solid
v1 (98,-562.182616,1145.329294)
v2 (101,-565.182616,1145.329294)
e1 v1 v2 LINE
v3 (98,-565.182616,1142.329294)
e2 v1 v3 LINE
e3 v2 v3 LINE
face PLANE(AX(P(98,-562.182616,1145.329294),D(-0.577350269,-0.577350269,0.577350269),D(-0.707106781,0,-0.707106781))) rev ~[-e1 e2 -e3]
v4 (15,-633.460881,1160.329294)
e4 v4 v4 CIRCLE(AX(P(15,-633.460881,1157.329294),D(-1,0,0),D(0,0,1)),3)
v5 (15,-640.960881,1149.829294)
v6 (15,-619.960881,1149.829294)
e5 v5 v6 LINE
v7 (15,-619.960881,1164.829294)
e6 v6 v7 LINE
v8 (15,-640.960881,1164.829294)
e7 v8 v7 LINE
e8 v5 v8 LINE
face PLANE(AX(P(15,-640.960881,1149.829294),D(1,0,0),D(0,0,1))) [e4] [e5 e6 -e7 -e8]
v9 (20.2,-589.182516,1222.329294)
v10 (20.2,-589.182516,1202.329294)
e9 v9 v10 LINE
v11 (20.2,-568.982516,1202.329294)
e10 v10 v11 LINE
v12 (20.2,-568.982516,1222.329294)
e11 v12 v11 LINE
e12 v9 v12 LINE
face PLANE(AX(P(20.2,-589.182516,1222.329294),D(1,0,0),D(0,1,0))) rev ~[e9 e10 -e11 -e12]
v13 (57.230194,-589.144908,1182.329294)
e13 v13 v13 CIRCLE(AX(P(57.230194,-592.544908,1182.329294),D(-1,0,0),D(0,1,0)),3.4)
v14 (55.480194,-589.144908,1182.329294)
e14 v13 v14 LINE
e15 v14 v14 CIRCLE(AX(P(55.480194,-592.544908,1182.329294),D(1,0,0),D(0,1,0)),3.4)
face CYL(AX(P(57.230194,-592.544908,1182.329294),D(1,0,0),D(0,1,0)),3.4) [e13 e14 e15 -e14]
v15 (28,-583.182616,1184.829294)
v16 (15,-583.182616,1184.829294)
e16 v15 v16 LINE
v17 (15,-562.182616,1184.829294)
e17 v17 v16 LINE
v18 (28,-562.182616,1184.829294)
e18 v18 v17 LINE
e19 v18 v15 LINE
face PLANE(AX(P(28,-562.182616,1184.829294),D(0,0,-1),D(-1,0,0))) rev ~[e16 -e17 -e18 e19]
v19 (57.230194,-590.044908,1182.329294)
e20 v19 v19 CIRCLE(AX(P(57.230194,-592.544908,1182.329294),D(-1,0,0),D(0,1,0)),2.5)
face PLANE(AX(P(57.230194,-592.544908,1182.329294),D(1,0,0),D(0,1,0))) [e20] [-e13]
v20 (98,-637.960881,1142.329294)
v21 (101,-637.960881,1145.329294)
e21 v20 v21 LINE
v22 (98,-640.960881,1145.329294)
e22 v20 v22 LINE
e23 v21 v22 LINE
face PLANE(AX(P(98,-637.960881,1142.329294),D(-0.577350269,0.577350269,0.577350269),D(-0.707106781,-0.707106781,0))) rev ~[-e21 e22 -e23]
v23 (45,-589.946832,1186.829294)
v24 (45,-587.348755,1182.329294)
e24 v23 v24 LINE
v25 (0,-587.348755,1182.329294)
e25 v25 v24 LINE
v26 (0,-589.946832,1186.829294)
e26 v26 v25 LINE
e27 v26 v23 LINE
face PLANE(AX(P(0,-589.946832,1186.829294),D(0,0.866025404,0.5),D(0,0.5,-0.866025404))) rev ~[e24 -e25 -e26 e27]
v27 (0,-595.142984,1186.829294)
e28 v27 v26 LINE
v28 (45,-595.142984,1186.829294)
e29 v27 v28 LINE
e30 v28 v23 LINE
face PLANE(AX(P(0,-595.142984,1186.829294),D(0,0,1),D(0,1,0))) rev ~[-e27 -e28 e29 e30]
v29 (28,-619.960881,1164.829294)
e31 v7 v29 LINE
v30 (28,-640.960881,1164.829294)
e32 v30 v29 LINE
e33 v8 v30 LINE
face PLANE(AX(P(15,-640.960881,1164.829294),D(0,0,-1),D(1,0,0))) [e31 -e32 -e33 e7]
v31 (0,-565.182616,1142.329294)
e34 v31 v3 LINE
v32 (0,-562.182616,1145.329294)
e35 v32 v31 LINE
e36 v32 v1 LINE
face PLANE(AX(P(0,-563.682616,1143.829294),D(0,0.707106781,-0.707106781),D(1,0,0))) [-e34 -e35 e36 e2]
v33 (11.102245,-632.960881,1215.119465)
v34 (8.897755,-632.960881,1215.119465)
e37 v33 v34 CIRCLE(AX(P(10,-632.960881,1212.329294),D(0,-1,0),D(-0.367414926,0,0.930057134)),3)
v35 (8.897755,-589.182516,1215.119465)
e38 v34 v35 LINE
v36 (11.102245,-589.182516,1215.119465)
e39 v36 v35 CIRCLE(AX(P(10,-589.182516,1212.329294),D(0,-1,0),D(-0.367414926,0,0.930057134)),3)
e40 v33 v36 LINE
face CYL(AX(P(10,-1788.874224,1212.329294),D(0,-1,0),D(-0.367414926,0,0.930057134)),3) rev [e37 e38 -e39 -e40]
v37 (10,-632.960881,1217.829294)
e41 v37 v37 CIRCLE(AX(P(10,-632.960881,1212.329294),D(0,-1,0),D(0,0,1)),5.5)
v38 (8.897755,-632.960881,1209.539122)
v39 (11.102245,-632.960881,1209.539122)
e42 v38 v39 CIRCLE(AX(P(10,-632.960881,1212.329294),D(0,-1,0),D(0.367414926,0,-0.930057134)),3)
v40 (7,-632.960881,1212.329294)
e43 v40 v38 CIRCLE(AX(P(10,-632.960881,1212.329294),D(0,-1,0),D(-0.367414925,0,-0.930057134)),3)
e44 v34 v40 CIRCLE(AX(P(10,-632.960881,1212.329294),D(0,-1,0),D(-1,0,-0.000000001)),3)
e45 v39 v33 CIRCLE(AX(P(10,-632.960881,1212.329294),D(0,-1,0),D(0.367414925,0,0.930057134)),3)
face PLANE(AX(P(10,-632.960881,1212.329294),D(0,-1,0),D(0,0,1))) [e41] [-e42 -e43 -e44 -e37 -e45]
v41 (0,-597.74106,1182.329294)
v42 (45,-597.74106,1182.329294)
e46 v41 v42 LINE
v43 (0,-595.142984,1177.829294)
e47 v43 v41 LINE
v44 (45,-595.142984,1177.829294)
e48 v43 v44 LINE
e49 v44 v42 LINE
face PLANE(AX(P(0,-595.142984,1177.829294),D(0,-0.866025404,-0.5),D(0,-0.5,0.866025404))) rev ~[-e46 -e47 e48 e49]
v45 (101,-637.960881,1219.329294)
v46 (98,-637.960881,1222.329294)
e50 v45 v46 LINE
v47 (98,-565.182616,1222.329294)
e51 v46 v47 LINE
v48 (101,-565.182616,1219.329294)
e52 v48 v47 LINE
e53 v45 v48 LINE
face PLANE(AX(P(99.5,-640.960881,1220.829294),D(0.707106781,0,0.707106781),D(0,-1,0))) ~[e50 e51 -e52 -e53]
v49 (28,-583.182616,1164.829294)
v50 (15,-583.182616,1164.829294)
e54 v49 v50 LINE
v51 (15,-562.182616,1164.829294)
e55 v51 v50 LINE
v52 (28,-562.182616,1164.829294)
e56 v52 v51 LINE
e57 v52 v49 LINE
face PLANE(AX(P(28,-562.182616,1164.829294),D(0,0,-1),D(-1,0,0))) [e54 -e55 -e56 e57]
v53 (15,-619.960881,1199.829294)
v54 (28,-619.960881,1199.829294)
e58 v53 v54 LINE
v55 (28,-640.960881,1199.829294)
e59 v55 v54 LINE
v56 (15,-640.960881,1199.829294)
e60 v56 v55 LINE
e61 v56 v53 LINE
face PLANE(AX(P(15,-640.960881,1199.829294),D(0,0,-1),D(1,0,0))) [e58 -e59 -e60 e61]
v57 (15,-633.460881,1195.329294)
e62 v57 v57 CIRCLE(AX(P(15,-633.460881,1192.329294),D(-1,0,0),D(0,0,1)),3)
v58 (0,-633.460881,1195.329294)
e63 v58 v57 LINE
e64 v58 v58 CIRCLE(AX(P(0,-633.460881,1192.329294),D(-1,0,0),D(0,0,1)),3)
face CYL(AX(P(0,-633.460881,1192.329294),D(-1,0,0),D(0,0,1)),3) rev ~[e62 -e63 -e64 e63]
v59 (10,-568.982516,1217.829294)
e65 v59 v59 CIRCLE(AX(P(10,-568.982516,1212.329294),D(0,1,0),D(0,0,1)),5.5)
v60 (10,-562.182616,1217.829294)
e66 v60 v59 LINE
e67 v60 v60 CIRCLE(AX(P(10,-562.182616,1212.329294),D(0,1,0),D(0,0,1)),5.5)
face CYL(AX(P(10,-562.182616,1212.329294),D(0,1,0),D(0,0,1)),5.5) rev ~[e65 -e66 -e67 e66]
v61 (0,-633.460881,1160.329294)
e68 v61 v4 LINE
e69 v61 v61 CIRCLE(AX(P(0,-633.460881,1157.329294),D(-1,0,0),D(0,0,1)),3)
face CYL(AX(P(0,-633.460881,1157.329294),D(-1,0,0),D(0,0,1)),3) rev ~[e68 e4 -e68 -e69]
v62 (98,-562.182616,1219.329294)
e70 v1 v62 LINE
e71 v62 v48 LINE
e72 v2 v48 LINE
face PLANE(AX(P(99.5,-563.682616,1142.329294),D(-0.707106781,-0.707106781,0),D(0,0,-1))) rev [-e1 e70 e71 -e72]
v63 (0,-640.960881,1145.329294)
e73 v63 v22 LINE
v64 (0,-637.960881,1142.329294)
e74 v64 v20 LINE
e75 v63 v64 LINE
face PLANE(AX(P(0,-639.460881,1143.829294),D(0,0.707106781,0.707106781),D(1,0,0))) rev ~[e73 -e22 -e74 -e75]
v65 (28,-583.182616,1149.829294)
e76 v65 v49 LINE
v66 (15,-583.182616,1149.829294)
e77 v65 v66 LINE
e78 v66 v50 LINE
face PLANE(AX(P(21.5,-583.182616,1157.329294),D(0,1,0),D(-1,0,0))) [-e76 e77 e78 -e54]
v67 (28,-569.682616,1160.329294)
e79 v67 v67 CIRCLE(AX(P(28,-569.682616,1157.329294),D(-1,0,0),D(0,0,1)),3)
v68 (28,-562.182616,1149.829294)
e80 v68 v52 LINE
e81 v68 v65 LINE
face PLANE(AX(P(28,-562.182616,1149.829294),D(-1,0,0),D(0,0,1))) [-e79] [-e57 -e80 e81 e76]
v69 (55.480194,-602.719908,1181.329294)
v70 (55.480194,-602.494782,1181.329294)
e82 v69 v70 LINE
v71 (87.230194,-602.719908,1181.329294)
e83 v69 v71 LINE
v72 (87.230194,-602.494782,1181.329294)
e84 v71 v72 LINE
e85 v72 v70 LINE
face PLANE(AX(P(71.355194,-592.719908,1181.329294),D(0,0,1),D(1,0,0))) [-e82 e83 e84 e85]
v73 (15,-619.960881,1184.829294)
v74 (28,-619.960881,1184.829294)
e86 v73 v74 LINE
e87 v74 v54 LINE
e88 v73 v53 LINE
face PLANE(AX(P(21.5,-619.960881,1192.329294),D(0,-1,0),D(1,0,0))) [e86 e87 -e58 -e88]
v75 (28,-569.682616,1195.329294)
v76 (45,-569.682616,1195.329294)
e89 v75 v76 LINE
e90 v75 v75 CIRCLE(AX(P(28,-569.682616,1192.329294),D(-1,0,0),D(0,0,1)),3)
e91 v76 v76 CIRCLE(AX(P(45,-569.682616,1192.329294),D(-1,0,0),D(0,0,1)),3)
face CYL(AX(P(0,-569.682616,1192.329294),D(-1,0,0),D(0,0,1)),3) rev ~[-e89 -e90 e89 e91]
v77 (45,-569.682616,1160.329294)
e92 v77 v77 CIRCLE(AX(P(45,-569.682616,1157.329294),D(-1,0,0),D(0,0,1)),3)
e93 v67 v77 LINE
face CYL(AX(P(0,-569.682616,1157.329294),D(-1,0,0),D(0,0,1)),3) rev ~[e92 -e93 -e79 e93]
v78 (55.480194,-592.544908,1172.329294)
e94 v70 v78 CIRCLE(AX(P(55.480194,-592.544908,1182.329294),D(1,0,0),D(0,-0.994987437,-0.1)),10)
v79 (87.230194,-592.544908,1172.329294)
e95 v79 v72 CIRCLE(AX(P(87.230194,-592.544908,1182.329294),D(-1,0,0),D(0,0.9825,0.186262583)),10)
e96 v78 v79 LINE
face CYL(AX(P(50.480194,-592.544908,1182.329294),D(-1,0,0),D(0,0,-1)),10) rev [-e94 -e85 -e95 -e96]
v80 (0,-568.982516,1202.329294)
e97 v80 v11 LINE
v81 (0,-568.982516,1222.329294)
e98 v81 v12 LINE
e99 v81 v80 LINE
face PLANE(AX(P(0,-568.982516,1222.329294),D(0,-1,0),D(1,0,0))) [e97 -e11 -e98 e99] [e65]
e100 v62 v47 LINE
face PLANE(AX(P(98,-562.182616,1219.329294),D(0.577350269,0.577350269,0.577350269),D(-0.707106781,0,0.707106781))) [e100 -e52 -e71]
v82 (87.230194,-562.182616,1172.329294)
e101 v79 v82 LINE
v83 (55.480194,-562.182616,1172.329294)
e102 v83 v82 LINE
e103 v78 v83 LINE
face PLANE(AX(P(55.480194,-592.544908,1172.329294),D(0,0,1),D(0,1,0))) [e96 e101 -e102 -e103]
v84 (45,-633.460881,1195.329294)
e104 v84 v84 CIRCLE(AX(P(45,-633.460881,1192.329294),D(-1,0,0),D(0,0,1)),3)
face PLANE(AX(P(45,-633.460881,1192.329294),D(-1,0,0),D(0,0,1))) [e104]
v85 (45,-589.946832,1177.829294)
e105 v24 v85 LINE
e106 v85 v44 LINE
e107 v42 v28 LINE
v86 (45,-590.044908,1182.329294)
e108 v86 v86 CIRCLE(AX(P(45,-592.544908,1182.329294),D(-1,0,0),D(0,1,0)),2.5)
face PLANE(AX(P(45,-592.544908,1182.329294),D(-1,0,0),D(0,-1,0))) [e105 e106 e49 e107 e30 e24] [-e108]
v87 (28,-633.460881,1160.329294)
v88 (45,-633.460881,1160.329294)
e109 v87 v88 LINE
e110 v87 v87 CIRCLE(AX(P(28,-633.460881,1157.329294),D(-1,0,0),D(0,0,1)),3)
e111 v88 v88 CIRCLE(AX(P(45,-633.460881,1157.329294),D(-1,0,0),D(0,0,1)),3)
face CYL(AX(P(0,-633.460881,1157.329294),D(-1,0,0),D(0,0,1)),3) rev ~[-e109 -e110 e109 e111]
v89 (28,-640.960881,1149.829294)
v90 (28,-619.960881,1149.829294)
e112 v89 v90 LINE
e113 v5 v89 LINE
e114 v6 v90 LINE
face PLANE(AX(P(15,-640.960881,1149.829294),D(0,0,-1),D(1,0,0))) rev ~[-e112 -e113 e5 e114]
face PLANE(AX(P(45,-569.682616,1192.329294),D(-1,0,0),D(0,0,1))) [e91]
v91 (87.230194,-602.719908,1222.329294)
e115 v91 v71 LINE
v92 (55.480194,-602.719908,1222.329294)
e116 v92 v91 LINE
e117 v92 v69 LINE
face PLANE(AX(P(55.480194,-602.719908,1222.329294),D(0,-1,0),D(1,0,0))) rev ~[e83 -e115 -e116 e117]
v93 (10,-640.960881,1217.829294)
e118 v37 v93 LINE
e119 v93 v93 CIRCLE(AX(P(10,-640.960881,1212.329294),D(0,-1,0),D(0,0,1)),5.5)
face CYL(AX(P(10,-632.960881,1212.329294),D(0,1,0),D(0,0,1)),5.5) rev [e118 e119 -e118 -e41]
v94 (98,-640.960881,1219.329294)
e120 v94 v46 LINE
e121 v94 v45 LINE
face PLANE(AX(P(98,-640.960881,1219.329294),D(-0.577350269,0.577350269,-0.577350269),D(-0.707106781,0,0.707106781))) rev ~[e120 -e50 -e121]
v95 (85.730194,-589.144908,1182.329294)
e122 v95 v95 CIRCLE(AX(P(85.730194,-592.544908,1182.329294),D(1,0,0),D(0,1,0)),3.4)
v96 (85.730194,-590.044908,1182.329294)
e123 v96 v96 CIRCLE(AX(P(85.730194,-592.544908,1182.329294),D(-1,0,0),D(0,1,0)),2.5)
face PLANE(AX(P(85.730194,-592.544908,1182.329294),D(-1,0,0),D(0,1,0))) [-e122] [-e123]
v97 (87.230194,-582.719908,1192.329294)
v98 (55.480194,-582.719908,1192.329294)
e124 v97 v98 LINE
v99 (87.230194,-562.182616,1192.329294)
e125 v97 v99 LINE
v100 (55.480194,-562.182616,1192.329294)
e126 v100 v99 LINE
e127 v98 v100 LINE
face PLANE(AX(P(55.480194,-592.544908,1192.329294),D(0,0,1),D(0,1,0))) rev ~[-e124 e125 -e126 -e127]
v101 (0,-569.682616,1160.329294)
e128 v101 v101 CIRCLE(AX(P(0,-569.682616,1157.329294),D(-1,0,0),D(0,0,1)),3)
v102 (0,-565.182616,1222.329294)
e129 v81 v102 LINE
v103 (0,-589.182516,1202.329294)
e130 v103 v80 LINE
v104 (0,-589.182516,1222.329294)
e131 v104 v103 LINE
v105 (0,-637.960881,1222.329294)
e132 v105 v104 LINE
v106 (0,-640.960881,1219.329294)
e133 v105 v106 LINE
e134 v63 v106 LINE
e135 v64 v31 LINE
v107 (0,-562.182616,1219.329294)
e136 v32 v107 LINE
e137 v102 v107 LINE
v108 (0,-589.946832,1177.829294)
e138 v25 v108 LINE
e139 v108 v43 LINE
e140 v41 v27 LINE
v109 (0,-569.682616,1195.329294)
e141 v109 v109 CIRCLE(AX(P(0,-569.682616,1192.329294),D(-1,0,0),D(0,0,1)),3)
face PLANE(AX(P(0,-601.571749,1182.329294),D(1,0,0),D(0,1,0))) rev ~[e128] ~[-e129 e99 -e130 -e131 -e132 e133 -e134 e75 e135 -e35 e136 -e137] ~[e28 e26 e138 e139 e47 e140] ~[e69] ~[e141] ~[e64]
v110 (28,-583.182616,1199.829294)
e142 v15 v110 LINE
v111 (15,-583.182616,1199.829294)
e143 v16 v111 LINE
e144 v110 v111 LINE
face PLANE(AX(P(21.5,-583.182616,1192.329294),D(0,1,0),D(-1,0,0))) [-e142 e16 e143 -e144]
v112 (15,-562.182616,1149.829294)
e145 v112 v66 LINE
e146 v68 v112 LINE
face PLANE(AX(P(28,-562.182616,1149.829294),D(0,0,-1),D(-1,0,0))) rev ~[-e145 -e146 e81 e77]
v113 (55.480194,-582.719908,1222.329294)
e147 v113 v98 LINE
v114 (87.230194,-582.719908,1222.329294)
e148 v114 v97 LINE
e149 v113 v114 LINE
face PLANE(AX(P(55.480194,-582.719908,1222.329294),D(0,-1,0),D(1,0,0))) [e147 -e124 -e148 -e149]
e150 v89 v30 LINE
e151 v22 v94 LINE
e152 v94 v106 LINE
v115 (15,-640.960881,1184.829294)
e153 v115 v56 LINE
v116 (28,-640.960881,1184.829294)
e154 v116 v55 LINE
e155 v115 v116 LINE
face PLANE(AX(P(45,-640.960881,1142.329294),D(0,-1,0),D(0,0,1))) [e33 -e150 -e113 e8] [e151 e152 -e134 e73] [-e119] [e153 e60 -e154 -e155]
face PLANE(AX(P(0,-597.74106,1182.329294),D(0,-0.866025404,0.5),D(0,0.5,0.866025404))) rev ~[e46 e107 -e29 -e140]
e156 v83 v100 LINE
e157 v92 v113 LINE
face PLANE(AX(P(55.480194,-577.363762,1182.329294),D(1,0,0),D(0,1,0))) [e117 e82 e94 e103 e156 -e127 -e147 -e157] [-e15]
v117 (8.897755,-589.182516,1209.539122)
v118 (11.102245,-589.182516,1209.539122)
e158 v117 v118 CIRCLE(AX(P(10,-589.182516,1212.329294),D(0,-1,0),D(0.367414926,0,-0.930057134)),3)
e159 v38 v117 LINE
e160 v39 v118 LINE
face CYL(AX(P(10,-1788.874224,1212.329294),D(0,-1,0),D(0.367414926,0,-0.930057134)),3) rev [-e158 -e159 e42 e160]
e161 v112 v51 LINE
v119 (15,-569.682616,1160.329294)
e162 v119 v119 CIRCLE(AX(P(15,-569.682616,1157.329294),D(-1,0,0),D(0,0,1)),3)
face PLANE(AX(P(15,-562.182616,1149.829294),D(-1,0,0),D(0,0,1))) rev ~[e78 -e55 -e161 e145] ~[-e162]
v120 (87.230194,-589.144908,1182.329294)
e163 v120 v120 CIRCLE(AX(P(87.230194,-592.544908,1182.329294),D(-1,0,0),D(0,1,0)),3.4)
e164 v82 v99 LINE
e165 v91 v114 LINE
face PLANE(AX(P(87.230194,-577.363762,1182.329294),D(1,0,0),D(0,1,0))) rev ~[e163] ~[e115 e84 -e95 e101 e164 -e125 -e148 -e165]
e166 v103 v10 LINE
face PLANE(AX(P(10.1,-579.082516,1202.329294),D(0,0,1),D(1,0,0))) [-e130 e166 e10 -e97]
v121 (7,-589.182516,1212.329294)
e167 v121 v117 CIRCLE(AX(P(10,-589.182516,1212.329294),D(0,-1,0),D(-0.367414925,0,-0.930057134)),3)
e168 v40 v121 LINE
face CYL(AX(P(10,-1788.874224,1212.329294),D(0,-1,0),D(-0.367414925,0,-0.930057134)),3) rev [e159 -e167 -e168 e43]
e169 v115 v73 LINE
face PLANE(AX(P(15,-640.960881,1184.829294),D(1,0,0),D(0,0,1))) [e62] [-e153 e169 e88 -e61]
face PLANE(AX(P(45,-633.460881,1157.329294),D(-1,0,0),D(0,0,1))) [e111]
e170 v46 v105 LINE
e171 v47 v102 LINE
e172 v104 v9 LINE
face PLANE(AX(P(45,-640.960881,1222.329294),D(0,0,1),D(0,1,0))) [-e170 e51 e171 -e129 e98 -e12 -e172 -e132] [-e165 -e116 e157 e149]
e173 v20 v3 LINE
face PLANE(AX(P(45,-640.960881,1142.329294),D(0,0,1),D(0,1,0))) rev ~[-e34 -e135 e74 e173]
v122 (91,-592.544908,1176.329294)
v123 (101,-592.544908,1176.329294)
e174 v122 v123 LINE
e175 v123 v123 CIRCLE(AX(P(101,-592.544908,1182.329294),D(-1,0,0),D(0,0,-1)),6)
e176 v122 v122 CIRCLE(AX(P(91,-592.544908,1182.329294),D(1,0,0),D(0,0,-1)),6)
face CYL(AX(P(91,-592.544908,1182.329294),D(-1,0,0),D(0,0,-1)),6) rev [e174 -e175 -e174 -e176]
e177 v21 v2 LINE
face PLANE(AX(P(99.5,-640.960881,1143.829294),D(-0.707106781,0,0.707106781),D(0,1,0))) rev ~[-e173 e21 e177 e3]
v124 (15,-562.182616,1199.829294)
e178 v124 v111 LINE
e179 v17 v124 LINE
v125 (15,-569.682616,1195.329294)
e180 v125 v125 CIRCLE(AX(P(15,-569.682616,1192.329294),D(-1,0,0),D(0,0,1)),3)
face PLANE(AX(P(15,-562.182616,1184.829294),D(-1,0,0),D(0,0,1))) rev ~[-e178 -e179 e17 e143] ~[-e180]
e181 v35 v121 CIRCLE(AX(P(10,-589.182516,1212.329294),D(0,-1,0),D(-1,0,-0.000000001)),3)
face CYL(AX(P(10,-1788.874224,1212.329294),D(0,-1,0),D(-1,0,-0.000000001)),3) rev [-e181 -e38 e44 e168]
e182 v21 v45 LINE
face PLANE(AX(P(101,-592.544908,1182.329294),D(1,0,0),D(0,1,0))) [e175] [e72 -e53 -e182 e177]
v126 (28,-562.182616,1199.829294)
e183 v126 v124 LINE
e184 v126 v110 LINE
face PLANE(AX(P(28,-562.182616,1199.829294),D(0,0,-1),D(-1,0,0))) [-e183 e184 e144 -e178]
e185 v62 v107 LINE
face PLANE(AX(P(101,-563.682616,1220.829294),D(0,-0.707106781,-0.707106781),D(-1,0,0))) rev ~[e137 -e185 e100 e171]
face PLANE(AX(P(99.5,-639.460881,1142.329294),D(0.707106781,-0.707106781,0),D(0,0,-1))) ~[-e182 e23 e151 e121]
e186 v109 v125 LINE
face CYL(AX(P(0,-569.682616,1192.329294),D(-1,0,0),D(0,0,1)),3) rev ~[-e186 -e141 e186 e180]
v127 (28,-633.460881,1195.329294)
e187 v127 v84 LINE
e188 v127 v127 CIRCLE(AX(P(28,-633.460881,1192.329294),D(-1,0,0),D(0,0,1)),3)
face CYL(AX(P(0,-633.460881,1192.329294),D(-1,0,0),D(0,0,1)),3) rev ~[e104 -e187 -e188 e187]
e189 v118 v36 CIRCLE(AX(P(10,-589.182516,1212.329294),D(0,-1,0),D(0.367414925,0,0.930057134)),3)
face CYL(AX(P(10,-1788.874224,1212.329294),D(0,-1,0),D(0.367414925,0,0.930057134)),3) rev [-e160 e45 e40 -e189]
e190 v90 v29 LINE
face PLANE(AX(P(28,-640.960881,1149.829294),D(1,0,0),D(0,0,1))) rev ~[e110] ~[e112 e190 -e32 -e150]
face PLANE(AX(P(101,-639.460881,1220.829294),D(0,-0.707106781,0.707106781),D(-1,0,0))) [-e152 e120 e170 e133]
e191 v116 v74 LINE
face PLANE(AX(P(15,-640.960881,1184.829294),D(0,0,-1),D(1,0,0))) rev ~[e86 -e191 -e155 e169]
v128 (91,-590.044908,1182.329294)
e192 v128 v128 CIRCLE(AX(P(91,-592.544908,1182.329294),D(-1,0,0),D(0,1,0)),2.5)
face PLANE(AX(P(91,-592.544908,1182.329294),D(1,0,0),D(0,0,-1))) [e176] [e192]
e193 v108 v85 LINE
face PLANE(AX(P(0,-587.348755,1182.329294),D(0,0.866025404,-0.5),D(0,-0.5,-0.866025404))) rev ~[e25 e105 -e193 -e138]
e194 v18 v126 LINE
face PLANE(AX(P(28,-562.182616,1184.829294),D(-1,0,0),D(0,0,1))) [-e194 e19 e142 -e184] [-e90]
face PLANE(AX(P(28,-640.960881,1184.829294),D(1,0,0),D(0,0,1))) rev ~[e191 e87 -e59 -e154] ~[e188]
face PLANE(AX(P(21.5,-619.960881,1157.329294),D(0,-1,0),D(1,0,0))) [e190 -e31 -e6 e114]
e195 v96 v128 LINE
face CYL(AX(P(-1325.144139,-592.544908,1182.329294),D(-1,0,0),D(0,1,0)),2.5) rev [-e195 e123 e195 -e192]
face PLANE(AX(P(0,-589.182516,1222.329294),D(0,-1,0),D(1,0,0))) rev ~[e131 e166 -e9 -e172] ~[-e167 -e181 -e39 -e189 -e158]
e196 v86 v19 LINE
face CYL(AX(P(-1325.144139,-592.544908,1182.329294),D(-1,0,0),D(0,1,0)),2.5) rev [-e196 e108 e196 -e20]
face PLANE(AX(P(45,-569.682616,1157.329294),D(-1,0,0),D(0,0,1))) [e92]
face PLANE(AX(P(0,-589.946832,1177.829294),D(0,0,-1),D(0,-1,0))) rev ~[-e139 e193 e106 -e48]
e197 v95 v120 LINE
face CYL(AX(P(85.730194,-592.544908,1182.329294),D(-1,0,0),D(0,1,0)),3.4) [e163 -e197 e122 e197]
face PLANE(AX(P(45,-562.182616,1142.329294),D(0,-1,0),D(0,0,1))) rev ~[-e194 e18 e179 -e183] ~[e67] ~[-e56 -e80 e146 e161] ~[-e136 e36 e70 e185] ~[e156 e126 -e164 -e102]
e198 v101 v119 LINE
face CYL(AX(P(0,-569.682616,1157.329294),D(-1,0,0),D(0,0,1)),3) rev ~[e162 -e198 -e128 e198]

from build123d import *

# Parameters (mm, degrees)
SKETCH1_W               = 78.778264774
SKETCH1_H               = 80
BOSS_EXTRUDE1_DEPTH     = 45
SKETCH2_W               = 20.2
SKETCH2_H               = 20.2
CUT_EXTRUDE1_DEPTH      = 20
CUT_EXTRUDE2_DEPTH      = 1226.691607852
CUT_EXTRUDE2_DEPTH_BACK = 1226.691607852
SKETCH4_W               = 78.778264774
SKETCH4_H               = 80
BOSS_EXTRUDE2_DEPTH     = 56
CUT_EXTRUDE3_START      = -50.519806
SKETCH5_R               = 10
CUT_EXTRUDE3_DEPTH      = 50.519818
SKETCH6_R               = 3.4
BOSS_EXTRUDE3_DEPTH     = 12
SKETCH7_R               = 10
BOSS_EXTRUDE4_DEPTH     = 5
SKETCH8_R               = 3.4
BOSS_EXTRUDE5_DEPTH     = 1.5
SKETCH9_R               = 10
BOSS_EXTRUDE6_DEPTH     = 13.769806202
SKETCH10_W              = 31.75
SKETCH10_H              = 20
CUT_EXTRUDE4_DEPTH      = 41
SKETCH13_W              = 30.362291711
SKETCH13_H              = 20
CUT_EXTRUDE5_DEPTH      = 31.75
SKETCH11_R              = 3.4
BOSS_EXTRUDE7_DEPTH     = 14
SKETCH12_R              = 3.4
BOSS_EXTRUDE8_DEPTH     = 1.5
CUT_EXTRUDE6_DEPTH      = 1382.374333236
CUT_EXTRUDE6_DEPTH_BACK = 1382.374333236
SKETCH14_R              = 2.5
CUT_EXTRUDE7_DEPTH      = 1384.878879614
CUT_EXTRUDE7_DEPTH_BACK = 10
SKETCH15_R              = 6
CUT_EXTRUDE8_DEPTH      = 45
SKETCH17_R              = 3
CUT_EXTRUDE9_DEPTH      = 45
SKETCH18_W              = 13
SKETCH18_H              = 15
CUT_EXTRUDE10_DEPTH     = 21
SKETCH19_W              = 13
SKETCH19_H              = 15
CUT_EXTRUDE11_DEPTH     = 21
CHAMFER1_SIZE           = 3
SKETCH20_R              = 5.5
CUT_EXTRUDE12_DEPTH     = 8
CUT_EXTRUDE13_START     = -8
SKETCH21_R              = 5.5
CUT_EXTRUDE13_DEPTH     = 8


with BuildPart() as part:
    # Sketch1 → Boss-Extrude1 (new body)
    with BuildSketch(Plane.YZ):
        with Locations((-601.571748543, 1182.329293832)):
            Rectangle(SKETCH1_W, SKETCH1_H)
    extrude(amount=BOSS_EXTRUDE1_DEPTH)

    # Sketch2 → Cut-Extrude1 (cut)
    with BuildSketch(Plane.XY.offset(1222.329293832)):
        with Locations((10.1, -579.082515944)):
            Rectangle(SKETCH2_W, SKETCH2_H)
    extrude(amount=-CUT_EXTRUDE1_DEPTH, mode=Mode.SUBTRACT)

    # Sketch3 → Cut-Extrude2 (cut, two sides: drawn at the far end of the back side and taken through both)
    with BuildSketch(Plane(origin=(0, -562.182616156, 0), x_dir=(-1, 0, 0), z_dir=(0, 1, 0)).offset(-CUT_EXTRUDE2_DEPTH_BACK)):
        with BuildLine():
            ThreePointArc((-11.102244776, 1215.119465234), (-13, 1212.329293832), (-11.102244776, 1209.53912243))
            Line((-11.102244776, 1209.53912243), (-11.102244776, 1215.119465234))
        make_face()
        with BuildLine():
            Line((-11.102244776, 1215.119465234), (-11.102244776, 1209.53912243))
            ThreePointArc((-11.102244776, 1209.53912243), (-10, 1209.329293832), (-8.897755224, 1209.53912243))
            Line((-8.897755224, 1209.53912243), (-8.897755224, 1215.119465234))
            ThreePointArc((-8.897755224, 1215.119465234), (-10, 1215.329293832), (-11.102244776, 1215.119465234))
        make_face()
        with BuildLine():
            Line((-8.897755224, 1215.119465234), (-8.897755224, 1209.53912243))
            ThreePointArc((-8.897755224, 1209.53912243), (-7.519401853, 1210.642097093), (-7, 1212.329293832))
            ThreePointArc((-7, 1212.329293832), (-7.519401853, 1214.016490571), (-8.897755224, 1215.119465234))
        make_face()
    extrude(amount=CUT_EXTRUDE2_DEPTH + CUT_EXTRUDE2_DEPTH_BACK, mode=Mode.SUBTRACT)

    # Sketch4 → Boss-Extrude2 (add)
    with BuildSketch(Plane.YZ.offset(45)):
        with Locations((-601.571748543, 1182.329293832)):
            Rectangle(SKETCH4_W, SKETCH4_H)
    extrude(amount=BOSS_EXTRUDE2_DEPTH)

    # Sketch5 → Cut-Extrude3 (cut)
    with BuildSketch(Plane.YZ.offset(101).offset(CUT_EXTRUDE3_START)):
        with Locations(Location((-592.544907867, 1182.329293832, 0), (0, 0, 270))):
            Circle(SKETCH5_R)
    extrude(amount=CUT_EXTRUDE3_DEPTH, mode=Mode.SUBTRACT)

    # Sketch6 → Boss-Extrude3 (add)
    with BuildSketch(Plane(origin=(57.230193798, 0, 0), x_dir=(0, -1, 0), z_dir=(-1, 0, 0))):
        with Locations(Location((592.544907867, 1182.329293832, 0), (0, 0, 180))):
            Circle(SKETCH6_R)
    extrude(amount=BOSS_EXTRUDE3_DEPTH)

    # Sketch7 → Boss-Extrude4 (add)
    with BuildSketch(Plane.YZ.offset(50.480193798)):
        with Locations(Location((-592.544907867, 1182.329293832, 0), (0, 0, 270))):
            Circle(SKETCH7_R)
    extrude(amount=BOSS_EXTRUDE4_DEPTH)



with BuildPart() as body_2:
    # Sketch8 → Boss-Extrude5 (new body)
    with BuildSketch(Plane.YZ.offset(85.730193798)):
        with Locations((-592.544907867, 1182.329293832)):
            Circle(SKETCH8_R)
    extrude(amount=BOSS_EXTRUDE5_DEPTH)


with BuildPart() as part_1:
    add(part.part)

    add(body_2.part)  # Boss-Extrude6 merges body 2
    # Sketch9 → Boss-Extrude6 (add)
    with BuildSketch(Plane.YZ.offset(87.230193798)):
        with Locations((-592.544907867, 1182.329293832)):
            Circle(SKETCH9_R)
    extrude(amount=BOSS_EXTRUDE6_DEPTH)

    # Sketch10 → Cut-Extrude4 (cut)
    with BuildSketch(Plane.XY.offset(1222.329293832)):
        with Locations((71.355193798, -592.719907867)):
            Rectangle(SKETCH10_W, SKETCH10_H)
    extrude(amount=-CUT_EXTRUDE4_DEPTH, mode=Mode.SUBTRACT)

    # Sketch13 → Cut-Extrude5 (cut)
    with BuildSketch(Plane.YZ.offset(55.480193798)):
        with Locations((-577.363762012, 1182.329293832)):
            Rectangle(SKETCH13_W, SKETCH13_H)
    extrude(amount=CUT_EXTRUDE5_DEPTH, mode=Mode.SUBTRACT)

    # Sketch11 → Boss-Extrude7 (add)
    with BuildSketch(Plane.YZ.offset(57.230193798)):
        with Locations((-592.544907867, 1182.329293832)):
            Circle(SKETCH11_R)
    extrude(amount=-BOSS_EXTRUDE7_DEPTH)

    # Sketch12 → Boss-Extrude8 (add)
    with BuildSketch(Plane(origin=(85.730193798, 0, 0), x_dir=(0, -1, 0), z_dir=(-1, 0, 0))):
        with Locations(Location((592.544907867, 1182.329293832, 0), (0, 0, 180))):
            Circle(SKETCH12_R)
    extrude(amount=-BOSS_EXTRUDE8_DEPTH)

    # Sketch14 → Cut-Extrude6 (cut, two sides: drawn at the far end of the back side and taken through both)
    with BuildSketch(Plane.YZ.offset(57.230193798).offset(-CUT_EXTRUDE6_DEPTH_BACK)):
        with Locations((-592.544907867, 1182.329293832)):
            Circle(SKETCH14_R)
    extrude(amount=CUT_EXTRUDE6_DEPTH + CUT_EXTRUDE6_DEPTH_BACK, mode=Mode.SUBTRACT)

    # Sketch15 → Cut-Extrude7 (cut, two sides: drawn at the far end of the back side and taken through both)
    with BuildSketch(Plane.YZ.offset(101).offset(-CUT_EXTRUDE7_DEPTH_BACK)):
        with Locations(Location((-592.544907867, 1182.329293832, 0), (0, 0, 270))):
            Circle(SKETCH15_R)
    extrude(amount=CUT_EXTRUDE7_DEPTH + CUT_EXTRUDE7_DEPTH_BACK, mode=Mode.SUBTRACT)

    # Sketch16 → Cut-Extrude8 (cut)
    with BuildSketch(Plane(origin=(0, 0, 0), x_dir=(0, -1, 0), z_dir=(-1, 0, 0))):
        Polygon((589.946831656, 1177.829293832), (595.142984078, 1177.829293832), (597.74106029, 1182.329293832), (595.142984078, 1186.829293832), (589.946831656, 1186.829293832), (587.348755444, 1182.329293832), align=None)
    extrude(amount=-CUT_EXTRUDE8_DEPTH, mode=Mode.SUBTRACT)

    # Sketch17 → Cut-Extrude9 (cut)
    with BuildSketch(Plane(origin=(0, 0, 0), x_dir=(0, -1, 0), z_dir=(-1, 0, 0))):
        with Locations(Location((569.682616156, 1157.329293832, 0), (0, 0, 90))):
            Circle(SKETCH17_R)
        with Locations(Location((633.46088093, 1157.329293832, 0), (0, 0, 90))):
            Circle(SKETCH17_R)
        with Locations(Location((569.682616156, 1192.329293832, 0), (0, 0, 90))):
            Circle(SKETCH17_R)
        with Locations(Location((633.46088093, 1192.329293832, 0), (0, 0, 90))):
            Circle(SKETCH17_R)
    extrude(amount=-CUT_EXTRUDE9_DEPTH, mode=Mode.SUBTRACT)

    # Sketch18 → Cut-Extrude10 (cut)
    with BuildSketch(Plane(origin=(0, -562.182616156, 0), x_dir=(-1, 0, 0), z_dir=(0, 1, 0))):
        with Locations((-21.5, 1157.329293832)):
            Rectangle(SKETCH18_W, SKETCH18_H)
        with Locations((-21.5, 1192.329293832)):
            Rectangle(SKETCH18_W, SKETCH18_H)
    extrude(amount=-CUT_EXTRUDE10_DEPTH, mode=Mode.SUBTRACT)

    # Sketch19 → Cut-Extrude11 (cut)
    with BuildSketch(Plane.XZ.offset(640.96088093)):
        with Locations((21.5, 1157.329293832)):
            Rectangle(SKETCH19_W, SKETCH19_H)
        with Locations((21.5, 1192.329293832)):
            Rectangle(SKETCH19_W, SKETCH19_H)
    extrude(amount=-CUT_EXTRUDE11_DEPTH, mode=Mode.SUBTRACT)

    # Chamfer1
    chamfer1_edges = [part_1.edges().sort_by_distance(p)[0] for p in [
        (101, -601.571748543, 1222.329293832),
        (101, -640.96088093, 1182.329293832),
        (101, -601.571748543, 1142.329293832),
        (101, -562.182616156, 1182.329293832),
        (50.5, -640.96088093, 1222.329293832),
        (50.5, -562.182616156, 1222.329293832),
        (50.5, -562.182616156, 1142.329293832),
        (50.5, -640.96088093, 1142.329293832),
    ]]
    chamfer(chamfer1_edges, length=CHAMFER1_SIZE)

    # Sketch20 → Cut-Extrude12 (cut)
    with BuildSketch(Plane(origin=(0, -562.182616156, 0), x_dir=(-1, 0, 0), z_dir=(0, 1, 0))):
        with Locations(Location((-10, 1212.329293832, 0), (0, 0, 90))):
            Circle(SKETCH20_R)
    extrude(amount=-CUT_EXTRUDE12_DEPTH, mode=Mode.SUBTRACT)

    # Sketch21 → Cut-Extrude13 (cut)
    with BuildSketch(Plane.XZ.offset(640.96088093).offset(CUT_EXTRUDE13_START)):
        with Locations(Location((10, 1212.329293832, 0), (0, 0, 90))):
            Circle(SKETCH21_R)
    extrude(amount=CUT_EXTRUDE13_DEPTH, mode=Mode.SUBTRACT)


solid = part_1.part
